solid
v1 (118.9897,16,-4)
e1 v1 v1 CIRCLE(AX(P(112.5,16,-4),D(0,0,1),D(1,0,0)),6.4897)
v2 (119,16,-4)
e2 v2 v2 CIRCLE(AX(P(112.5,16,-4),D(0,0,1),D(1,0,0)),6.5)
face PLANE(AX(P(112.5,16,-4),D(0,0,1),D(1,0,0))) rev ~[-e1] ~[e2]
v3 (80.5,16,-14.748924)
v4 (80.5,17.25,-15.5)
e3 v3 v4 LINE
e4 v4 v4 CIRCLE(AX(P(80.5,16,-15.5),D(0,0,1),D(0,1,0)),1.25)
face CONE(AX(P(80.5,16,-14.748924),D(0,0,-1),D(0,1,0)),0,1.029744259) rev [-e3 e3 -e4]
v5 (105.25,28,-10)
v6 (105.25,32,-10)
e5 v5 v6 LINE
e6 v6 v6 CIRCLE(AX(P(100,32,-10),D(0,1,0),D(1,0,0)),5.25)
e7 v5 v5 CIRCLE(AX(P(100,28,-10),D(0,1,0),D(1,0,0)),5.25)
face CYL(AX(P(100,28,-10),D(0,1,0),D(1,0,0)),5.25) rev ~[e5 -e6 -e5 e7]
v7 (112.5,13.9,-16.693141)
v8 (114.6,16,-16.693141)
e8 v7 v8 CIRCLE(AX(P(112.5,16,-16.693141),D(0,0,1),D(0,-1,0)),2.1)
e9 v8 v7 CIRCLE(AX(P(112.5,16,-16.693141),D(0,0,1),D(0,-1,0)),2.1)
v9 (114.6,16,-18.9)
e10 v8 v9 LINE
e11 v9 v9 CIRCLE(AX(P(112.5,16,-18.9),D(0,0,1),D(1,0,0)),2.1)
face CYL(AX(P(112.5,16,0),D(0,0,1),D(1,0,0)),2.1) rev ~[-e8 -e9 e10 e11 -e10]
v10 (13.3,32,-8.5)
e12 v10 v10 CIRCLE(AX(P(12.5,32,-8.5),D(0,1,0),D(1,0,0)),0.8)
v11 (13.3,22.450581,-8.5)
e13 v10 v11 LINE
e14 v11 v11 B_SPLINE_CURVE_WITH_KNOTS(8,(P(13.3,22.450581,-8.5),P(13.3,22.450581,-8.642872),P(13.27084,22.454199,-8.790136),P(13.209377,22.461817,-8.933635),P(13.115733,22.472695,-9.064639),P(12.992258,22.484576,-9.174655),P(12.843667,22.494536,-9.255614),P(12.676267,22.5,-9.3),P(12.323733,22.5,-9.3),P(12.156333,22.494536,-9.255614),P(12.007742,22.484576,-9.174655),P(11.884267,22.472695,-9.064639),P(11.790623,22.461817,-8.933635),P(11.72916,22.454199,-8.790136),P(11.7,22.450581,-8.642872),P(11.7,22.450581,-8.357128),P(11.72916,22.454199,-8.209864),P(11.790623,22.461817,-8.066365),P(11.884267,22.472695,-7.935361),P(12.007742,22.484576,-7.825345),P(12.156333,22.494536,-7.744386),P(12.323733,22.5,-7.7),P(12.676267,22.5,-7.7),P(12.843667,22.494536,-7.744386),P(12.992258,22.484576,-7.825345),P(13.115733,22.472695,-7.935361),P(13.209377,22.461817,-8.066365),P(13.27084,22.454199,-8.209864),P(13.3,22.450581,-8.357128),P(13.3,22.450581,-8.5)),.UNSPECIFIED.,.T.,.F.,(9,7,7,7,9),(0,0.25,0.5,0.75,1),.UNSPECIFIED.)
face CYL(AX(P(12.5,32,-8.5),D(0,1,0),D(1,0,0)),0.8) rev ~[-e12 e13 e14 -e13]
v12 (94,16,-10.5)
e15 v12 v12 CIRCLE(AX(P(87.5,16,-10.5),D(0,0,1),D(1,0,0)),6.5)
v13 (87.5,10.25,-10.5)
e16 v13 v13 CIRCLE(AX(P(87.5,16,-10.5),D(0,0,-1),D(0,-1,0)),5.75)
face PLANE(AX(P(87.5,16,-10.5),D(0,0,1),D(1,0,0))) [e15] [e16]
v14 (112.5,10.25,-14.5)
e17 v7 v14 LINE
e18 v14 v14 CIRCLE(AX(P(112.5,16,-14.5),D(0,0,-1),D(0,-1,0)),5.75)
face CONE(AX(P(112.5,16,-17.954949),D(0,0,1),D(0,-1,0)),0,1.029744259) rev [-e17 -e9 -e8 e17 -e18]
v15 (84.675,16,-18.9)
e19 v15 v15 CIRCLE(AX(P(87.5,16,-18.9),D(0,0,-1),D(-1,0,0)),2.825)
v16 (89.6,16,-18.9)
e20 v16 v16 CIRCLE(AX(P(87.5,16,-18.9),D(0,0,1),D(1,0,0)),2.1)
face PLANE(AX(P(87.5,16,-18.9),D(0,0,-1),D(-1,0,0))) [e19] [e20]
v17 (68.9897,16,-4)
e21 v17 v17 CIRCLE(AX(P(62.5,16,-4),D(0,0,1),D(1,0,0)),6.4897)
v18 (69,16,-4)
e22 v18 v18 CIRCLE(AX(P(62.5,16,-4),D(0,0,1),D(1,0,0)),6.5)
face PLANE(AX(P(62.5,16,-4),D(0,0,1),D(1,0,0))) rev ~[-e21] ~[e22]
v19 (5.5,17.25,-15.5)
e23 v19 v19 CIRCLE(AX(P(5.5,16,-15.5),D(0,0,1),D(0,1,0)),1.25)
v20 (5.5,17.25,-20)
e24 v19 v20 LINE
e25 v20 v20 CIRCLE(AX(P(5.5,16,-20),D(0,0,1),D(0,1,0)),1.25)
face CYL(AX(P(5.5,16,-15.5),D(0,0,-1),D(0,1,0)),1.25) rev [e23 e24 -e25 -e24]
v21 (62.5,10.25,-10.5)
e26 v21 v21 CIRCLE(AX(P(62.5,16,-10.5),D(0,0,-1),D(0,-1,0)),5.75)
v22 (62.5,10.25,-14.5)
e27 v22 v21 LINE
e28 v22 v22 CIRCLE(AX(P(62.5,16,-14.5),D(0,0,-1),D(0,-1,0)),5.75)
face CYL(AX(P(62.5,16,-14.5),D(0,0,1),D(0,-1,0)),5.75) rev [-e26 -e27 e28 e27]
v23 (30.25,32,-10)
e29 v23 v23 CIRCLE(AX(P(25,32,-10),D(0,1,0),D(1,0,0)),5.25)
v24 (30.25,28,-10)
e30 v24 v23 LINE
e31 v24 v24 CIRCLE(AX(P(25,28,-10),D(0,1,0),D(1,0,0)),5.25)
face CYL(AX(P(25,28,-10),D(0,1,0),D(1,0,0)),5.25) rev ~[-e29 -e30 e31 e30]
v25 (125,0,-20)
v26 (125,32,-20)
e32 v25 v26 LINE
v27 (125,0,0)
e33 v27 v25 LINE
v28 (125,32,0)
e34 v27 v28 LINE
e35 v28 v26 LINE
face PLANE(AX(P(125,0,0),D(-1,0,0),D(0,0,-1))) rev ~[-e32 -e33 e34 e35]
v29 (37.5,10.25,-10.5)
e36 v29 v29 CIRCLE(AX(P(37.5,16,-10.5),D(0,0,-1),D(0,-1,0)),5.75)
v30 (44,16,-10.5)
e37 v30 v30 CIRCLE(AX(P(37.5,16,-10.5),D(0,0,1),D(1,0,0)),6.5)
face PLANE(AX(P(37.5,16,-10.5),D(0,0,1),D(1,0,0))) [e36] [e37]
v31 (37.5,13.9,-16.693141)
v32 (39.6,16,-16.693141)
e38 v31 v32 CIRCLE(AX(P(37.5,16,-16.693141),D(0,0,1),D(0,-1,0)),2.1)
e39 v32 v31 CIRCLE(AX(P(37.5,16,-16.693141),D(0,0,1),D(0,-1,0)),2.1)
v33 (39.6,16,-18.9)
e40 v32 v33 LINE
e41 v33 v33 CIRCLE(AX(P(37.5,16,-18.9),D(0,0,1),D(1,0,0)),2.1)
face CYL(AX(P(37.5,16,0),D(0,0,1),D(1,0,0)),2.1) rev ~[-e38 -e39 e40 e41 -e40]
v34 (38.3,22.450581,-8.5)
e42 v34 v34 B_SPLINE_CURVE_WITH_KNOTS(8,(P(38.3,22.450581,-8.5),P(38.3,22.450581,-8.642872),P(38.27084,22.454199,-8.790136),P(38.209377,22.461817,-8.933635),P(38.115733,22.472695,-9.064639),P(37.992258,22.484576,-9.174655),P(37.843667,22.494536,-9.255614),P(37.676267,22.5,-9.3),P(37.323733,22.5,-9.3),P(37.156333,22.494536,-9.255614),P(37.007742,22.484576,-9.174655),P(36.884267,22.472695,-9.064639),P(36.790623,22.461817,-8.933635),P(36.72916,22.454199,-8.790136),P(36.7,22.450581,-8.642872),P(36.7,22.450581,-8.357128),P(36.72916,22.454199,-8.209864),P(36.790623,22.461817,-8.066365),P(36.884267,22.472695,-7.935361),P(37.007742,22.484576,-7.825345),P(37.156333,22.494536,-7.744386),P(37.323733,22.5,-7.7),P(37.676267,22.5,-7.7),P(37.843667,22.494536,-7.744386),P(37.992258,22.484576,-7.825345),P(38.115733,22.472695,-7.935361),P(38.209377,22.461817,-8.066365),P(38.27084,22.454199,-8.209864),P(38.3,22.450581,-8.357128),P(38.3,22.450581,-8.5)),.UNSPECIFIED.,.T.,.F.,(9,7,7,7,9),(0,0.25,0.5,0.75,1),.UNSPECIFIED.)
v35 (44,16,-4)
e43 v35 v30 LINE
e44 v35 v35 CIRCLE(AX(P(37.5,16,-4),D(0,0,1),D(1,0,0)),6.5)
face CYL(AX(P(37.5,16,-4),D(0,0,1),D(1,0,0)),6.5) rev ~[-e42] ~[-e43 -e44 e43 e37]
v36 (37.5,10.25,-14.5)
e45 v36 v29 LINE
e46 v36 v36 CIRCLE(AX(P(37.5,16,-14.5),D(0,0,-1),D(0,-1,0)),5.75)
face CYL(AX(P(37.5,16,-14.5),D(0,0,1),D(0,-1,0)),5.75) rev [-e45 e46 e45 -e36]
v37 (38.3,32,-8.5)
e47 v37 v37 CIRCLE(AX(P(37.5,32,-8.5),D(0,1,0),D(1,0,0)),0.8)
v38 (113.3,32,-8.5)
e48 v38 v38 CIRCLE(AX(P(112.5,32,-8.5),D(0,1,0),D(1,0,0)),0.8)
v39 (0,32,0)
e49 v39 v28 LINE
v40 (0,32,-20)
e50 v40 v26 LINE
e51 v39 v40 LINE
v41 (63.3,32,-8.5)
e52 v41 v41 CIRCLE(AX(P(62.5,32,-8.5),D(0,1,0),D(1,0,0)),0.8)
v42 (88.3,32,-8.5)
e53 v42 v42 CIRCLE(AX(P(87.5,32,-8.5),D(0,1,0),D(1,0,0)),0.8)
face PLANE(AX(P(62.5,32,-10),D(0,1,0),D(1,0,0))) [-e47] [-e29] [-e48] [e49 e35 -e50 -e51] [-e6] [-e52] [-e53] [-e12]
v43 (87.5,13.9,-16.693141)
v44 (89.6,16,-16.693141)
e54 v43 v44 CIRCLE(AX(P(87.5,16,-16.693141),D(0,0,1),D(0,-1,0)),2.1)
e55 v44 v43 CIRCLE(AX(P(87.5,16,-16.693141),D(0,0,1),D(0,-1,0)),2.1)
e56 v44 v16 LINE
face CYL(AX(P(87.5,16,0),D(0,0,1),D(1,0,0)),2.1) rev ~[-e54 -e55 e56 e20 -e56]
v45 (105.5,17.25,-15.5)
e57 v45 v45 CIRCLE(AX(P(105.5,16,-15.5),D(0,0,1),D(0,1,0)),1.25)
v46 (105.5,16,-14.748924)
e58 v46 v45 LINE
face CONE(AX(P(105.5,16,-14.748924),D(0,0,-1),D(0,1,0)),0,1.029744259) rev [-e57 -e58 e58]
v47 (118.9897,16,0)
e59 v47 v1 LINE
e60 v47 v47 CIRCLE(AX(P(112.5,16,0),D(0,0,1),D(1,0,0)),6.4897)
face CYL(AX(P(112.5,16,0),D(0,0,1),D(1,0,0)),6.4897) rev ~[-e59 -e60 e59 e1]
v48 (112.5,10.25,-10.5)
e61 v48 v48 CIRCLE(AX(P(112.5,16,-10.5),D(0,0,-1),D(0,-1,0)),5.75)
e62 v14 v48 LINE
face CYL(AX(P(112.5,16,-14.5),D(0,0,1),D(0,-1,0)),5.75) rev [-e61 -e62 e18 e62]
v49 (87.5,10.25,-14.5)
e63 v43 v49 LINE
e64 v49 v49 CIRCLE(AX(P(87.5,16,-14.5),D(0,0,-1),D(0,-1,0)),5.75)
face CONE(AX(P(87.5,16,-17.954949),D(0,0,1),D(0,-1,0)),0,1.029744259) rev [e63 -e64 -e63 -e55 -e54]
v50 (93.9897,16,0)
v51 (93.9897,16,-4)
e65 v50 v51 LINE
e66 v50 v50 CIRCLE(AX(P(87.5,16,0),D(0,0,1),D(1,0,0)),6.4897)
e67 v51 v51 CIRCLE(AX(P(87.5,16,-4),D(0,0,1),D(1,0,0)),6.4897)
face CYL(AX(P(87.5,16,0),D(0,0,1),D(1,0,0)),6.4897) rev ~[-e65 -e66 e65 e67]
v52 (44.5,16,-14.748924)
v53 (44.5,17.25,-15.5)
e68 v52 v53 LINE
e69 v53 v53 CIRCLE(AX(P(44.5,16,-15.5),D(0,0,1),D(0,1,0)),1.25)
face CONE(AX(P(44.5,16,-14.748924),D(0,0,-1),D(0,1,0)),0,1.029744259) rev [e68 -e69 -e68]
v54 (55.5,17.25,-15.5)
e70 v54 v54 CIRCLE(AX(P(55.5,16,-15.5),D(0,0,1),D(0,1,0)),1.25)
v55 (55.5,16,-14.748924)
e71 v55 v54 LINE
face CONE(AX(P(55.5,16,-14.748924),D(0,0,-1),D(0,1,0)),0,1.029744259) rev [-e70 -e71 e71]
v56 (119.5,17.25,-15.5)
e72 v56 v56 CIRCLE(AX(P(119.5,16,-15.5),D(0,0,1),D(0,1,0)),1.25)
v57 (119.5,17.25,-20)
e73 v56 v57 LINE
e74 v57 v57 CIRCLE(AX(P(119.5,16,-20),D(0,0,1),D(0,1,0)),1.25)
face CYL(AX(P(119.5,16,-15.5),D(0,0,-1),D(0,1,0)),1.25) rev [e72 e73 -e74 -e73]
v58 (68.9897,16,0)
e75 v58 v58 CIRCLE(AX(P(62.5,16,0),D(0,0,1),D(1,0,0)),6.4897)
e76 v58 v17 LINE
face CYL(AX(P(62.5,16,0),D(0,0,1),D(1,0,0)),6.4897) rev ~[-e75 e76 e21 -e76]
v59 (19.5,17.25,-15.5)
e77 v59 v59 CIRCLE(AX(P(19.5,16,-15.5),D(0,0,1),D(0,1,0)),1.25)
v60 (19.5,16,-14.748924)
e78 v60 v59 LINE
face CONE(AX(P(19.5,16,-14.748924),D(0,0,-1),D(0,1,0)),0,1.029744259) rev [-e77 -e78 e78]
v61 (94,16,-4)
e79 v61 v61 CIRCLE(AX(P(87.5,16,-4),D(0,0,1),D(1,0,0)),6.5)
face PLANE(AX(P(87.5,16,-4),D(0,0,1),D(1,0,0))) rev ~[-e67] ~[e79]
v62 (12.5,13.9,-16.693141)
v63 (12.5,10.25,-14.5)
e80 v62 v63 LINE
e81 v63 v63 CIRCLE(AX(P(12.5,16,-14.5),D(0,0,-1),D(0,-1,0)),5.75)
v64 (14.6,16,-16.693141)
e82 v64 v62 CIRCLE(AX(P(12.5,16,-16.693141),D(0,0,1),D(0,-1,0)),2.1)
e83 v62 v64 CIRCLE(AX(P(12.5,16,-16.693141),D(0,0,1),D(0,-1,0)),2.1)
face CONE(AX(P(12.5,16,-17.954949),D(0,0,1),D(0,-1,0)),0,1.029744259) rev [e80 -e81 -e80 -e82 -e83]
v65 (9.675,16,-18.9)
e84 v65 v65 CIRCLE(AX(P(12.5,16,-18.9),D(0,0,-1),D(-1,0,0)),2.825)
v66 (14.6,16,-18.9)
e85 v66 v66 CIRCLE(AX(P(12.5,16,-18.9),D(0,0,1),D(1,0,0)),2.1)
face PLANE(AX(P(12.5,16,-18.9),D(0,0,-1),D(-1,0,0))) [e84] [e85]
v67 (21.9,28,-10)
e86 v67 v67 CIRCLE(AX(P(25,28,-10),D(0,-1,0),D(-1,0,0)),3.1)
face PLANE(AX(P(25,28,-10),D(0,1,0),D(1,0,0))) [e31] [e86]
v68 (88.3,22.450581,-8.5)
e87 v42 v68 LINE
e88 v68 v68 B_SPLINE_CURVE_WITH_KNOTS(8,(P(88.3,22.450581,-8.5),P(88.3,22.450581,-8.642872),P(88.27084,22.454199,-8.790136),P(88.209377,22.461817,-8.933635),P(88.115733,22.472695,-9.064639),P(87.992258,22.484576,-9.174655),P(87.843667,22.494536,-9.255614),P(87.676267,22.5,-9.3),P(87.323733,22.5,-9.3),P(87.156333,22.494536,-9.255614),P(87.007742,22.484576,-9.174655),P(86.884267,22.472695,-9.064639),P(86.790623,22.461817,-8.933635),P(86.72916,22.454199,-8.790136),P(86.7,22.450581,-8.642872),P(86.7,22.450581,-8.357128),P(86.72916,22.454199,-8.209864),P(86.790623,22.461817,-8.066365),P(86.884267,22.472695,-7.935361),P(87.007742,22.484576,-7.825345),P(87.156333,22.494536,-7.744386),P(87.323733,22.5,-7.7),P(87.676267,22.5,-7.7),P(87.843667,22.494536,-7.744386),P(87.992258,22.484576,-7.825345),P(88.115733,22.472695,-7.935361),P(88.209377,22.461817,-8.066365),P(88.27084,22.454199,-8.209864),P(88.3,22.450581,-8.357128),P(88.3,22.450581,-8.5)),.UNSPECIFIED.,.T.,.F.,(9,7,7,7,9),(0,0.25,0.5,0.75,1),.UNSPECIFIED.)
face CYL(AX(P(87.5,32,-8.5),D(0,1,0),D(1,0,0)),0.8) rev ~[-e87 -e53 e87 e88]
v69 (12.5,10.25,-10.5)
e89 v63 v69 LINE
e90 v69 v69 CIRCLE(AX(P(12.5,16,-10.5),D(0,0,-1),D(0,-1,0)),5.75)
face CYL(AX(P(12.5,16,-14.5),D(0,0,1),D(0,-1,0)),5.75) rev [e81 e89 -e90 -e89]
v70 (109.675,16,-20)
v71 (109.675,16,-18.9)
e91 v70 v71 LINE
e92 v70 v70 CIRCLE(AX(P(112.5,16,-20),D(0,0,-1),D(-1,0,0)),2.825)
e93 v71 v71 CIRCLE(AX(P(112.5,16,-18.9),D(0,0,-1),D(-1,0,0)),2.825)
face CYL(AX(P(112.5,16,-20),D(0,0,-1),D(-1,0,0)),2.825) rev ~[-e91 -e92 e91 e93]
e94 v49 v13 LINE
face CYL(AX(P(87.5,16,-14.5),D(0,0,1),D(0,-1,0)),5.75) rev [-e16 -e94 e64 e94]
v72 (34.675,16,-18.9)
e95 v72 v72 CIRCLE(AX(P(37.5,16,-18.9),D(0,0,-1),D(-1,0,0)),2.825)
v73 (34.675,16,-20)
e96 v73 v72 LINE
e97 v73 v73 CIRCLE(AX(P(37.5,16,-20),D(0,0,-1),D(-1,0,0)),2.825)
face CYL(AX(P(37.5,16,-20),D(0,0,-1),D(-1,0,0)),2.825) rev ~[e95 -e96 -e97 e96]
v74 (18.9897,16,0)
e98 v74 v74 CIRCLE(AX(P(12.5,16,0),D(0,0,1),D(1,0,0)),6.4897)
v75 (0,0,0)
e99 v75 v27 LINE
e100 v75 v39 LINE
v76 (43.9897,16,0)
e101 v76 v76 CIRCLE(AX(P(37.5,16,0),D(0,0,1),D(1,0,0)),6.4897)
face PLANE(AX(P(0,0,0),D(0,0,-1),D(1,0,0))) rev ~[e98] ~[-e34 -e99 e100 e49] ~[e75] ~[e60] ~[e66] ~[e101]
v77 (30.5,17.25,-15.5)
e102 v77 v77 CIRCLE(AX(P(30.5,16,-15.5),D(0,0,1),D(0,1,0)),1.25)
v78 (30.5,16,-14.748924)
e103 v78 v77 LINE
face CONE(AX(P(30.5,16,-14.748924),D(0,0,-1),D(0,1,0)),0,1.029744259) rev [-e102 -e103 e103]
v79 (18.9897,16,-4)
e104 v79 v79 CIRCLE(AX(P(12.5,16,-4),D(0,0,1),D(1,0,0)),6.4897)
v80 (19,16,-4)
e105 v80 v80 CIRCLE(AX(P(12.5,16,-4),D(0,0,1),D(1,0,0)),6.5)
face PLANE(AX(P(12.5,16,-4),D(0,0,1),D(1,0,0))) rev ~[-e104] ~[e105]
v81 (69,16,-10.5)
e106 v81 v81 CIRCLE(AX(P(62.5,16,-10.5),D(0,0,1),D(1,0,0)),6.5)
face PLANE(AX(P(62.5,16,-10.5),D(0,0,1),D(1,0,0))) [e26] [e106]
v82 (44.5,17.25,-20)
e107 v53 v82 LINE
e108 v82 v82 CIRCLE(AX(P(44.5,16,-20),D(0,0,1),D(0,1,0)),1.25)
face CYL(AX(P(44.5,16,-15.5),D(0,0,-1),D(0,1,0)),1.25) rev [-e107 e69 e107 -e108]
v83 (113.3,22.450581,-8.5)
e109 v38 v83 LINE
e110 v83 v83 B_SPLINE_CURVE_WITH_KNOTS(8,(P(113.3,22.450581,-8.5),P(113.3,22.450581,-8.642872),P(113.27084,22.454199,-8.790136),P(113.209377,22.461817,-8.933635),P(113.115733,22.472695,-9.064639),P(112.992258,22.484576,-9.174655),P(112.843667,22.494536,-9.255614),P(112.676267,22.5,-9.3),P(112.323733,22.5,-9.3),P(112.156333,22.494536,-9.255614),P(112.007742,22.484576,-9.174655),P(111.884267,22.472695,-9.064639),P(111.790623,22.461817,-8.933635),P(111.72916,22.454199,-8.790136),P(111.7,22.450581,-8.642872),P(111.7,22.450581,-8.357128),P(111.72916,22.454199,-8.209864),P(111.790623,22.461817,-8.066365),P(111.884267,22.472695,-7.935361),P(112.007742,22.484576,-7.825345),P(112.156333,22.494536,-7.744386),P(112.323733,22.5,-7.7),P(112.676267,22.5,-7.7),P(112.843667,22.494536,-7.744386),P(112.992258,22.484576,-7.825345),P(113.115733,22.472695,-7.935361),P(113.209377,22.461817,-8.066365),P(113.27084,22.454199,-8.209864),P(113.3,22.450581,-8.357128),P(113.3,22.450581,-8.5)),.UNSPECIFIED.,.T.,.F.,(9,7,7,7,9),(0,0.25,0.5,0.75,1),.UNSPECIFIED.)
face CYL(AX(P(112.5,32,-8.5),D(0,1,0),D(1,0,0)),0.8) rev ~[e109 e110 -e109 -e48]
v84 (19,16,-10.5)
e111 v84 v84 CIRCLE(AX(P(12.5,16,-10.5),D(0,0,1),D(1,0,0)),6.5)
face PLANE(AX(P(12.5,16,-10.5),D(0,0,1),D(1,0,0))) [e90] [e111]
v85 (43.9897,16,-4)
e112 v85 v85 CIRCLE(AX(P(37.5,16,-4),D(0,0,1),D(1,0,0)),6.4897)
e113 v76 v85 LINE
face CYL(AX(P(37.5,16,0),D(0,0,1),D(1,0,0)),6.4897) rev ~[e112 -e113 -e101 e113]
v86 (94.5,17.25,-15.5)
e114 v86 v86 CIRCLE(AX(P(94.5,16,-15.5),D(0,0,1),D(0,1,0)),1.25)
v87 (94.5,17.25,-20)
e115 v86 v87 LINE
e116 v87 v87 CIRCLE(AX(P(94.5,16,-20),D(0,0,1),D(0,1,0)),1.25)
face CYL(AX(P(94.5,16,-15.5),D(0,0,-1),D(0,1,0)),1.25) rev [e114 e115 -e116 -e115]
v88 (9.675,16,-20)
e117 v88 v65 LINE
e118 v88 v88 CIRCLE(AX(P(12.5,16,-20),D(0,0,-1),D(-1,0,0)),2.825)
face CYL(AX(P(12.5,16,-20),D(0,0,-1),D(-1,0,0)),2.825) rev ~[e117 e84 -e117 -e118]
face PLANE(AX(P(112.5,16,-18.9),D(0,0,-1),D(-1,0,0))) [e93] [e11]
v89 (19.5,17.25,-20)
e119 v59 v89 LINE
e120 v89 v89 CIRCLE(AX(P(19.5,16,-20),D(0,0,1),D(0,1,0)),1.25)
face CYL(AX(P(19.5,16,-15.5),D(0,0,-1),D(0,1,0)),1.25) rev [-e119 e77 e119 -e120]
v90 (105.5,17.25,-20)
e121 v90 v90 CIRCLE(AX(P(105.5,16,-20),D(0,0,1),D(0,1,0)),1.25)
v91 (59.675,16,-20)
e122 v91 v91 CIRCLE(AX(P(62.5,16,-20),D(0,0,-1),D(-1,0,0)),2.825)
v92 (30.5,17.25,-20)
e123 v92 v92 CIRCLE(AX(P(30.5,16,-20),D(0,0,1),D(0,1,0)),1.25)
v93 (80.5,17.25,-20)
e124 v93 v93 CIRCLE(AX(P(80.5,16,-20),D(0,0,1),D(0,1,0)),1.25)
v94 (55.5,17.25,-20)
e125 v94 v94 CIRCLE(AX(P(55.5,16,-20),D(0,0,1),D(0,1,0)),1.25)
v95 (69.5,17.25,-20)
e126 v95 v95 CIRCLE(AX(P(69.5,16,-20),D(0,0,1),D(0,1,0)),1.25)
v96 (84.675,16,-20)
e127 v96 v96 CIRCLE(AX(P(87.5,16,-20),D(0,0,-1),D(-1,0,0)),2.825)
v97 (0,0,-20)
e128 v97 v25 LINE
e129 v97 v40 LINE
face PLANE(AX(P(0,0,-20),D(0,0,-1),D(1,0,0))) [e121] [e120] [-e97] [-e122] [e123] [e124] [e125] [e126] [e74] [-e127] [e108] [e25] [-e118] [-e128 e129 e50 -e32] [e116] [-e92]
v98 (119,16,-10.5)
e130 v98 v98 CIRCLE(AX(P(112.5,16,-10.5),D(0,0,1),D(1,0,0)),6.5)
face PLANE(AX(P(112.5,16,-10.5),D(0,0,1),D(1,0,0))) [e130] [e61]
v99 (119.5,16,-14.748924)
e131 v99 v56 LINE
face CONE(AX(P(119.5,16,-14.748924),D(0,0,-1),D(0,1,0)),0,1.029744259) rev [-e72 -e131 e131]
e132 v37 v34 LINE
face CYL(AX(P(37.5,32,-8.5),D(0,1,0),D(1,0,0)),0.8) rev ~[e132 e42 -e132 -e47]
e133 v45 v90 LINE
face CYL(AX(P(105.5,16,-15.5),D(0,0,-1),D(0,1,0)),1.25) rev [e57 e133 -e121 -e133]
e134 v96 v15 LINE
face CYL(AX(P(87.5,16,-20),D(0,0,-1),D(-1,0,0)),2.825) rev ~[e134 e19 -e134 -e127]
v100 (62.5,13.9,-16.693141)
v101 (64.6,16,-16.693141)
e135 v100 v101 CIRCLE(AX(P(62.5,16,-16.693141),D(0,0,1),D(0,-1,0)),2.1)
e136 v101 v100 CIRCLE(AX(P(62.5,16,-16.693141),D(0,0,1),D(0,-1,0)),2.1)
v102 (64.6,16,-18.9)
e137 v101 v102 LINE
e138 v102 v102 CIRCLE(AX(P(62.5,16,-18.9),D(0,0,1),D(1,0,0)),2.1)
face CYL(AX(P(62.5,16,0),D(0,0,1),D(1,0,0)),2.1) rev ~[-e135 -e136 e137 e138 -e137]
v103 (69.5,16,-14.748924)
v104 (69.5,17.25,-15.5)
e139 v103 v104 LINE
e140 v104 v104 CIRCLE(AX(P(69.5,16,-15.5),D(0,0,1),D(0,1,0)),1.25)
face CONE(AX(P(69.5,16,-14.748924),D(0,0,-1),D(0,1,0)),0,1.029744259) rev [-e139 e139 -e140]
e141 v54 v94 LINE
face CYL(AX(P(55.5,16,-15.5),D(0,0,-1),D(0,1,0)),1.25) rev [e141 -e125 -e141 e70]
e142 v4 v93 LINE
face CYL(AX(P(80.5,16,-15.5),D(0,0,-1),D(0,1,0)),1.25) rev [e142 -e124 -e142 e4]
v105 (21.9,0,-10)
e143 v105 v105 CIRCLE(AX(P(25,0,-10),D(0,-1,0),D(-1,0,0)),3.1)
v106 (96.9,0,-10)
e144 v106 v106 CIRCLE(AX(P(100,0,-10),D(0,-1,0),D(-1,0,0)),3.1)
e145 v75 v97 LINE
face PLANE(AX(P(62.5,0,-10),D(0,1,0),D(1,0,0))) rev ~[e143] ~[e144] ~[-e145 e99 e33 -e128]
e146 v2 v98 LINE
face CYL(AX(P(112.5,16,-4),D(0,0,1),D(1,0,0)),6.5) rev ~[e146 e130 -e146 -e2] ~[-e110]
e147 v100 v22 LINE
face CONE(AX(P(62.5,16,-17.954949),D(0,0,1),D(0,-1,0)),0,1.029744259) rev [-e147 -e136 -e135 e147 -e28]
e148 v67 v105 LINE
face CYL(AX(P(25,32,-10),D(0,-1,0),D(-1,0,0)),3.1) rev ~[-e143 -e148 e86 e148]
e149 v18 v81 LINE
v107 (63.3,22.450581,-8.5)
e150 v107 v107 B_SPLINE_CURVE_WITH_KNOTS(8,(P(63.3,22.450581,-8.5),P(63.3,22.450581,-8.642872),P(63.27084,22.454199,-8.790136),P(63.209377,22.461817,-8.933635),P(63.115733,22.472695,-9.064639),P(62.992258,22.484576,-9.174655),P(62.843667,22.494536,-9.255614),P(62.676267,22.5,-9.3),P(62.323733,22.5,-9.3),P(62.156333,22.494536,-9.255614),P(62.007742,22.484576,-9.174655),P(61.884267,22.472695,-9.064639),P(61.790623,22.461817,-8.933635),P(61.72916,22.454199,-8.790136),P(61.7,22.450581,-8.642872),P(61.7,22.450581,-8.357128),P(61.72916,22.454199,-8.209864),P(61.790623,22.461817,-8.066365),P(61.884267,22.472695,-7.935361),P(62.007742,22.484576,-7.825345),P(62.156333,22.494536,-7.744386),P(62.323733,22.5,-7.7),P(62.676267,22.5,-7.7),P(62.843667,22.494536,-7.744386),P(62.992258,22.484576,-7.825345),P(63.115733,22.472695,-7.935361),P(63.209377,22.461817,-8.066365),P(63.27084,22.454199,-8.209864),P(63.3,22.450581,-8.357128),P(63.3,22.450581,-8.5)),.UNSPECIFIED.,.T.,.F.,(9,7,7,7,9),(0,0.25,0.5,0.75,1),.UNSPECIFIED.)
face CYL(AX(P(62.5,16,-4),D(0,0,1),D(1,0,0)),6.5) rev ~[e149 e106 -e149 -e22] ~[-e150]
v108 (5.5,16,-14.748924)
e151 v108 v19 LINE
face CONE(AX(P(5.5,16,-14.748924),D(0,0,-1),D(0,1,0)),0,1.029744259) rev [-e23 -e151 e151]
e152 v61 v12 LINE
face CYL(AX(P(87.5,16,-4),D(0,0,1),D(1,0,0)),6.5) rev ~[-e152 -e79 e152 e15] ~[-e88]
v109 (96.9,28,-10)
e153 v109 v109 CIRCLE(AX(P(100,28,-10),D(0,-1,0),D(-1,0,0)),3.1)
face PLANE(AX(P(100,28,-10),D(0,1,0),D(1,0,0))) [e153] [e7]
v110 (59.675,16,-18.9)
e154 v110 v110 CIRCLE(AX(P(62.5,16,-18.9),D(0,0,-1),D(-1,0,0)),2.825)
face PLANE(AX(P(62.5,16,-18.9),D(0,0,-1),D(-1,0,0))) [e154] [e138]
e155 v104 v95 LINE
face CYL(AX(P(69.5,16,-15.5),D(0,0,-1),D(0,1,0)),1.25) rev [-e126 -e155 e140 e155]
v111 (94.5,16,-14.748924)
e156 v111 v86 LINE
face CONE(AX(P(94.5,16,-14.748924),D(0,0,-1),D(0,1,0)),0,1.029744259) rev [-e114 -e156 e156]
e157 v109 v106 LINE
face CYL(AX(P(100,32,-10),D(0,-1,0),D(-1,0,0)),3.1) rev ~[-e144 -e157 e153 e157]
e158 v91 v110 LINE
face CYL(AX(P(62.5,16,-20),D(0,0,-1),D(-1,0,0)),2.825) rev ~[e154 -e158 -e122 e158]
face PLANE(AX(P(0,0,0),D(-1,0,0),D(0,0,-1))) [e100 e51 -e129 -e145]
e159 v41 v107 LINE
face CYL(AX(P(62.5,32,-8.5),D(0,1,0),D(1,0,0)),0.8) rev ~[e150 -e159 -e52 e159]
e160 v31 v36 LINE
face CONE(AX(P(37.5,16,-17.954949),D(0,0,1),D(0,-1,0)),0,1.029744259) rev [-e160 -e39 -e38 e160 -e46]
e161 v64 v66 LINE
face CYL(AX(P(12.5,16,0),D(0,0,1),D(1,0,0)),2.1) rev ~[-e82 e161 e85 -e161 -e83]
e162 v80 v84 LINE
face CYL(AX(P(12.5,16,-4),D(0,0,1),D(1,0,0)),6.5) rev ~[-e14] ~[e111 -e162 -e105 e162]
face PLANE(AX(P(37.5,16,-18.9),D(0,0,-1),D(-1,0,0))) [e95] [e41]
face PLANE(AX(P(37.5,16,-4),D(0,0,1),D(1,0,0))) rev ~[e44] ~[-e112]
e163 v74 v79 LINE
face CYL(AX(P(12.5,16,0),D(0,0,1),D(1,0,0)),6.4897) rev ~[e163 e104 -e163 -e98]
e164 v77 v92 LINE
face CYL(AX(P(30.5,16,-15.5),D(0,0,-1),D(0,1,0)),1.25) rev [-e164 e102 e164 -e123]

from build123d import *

# Parameters (mm, degrees)
SKETCH1_W                                           = 125
SKETCH1_H                                           = 20
BOSS_EXTRUDE1_DEPTH                                 = 32
SKETCH2_R                                           = 6.4897
CUT_EXTRUDE1_DEPTH                                  = 4
SKETCH3_R                                           = 6.5
CUT_EXTRUDE2_DEPTH                                  = 6.5
CUT_EXTRUDE4_REACH                                  = 132.572
SKETCH8_R                                           = 2.1
SKETCH9_R                                           = 2.825
CUT_EXTRUDE5_DEPTH                                  = 1.1
M3X0_5_TAPPED_HOLE1_AT_2_COUNT                      = 2
M3X0_5_TAPPED_HOLE1_AT_2_PITCH                      = 14
LPATTERN1_COUNT                                     = 5
LPATTERN1_PITCH                                     = 25
M2_TAPPED_HOLE1_REACH                               = 132.572
M2_TAPPED_HOLE1_BORE_R                              = 0.8
CBORE_FOR_M6_HEX_SOCKET_HEAD_CAP_SCREW1_D           = 6.2
CBORE_FOR_M6_HEX_SOCKET_HEAD_CAP_SCREW1_CBORE_D     = 10.5
CBORE_FOR_M6_HEX_SOCKET_HEAD_CAP_SCREW1_CBORE_DEPTH = 4


with BuildPart() as part:
    # Sketch1 → Boss-Extrude1 (new body)
    with BuildSketch(Plane(origin=(0, 0, 0), x_dir=(1, 0, 0), z_dir=(0, 1, 0))):
        with Locations((62.5, 10)):
            Rectangle(SKETCH1_W, SKETCH1_H)
    extrude(amount=BOSS_EXTRUDE1_DEPTH)

    # Sketch2 → Cut-Extrude1 (cut)
    with BuildSketch(Plane.XY):
        with Locations((12.5, 16)):
            Circle(SKETCH2_R)
    cut_extrude1 = extrude(amount=-CUT_EXTRUDE1_DEPTH, mode=Mode.SUBTRACT)

    # Sketch3 → Cut-Extrude2 (cut)
    with BuildSketch(Plane.XY.offset(-4)):
        with Locations((12.5, 16)):
            Circle(SKETCH3_R)
    cut_extrude2 = extrude(amount=-CUT_EXTRUDE2_DEPTH, mode=Mode.SUBTRACT)

    # Sketch6 → M12x0.5 Tapped Hole1 (revolve, cut)
    with BuildSketch(Plane(origin=(12.5, 16, -10.5), x_dir=(0, -1, 0), z_dir=(1, 0, 0))):
        Polygon((0, 0), (0, 7.454948559), (5.75, 4), (5.75, 0), align=None)
    m12x0_5_tapped_hole1 = revolve(axis=Axis((12.5, 16, -4.15), (0, 0, -1)), mode=Mode.SUBTRACT)

    # Sketch8 → Cut-Extrude4 (cut, up to next)
    with BuildSketch(Plane.XY, mode=Mode.PRIVATE) as cut_extrude4_sk1:
        with Locations((12.5, 16)):
            Circle(SKETCH8_R)
    cut_extrude4_tool1 = extrude(cut_extrude4_sk1.sketch, amount=-CUT_EXTRUDE4_REACH, mode=Mode.PRIVATE) & part.part
    cut_extrude4 = cut_extrude4_tool1.solids().sort_by_distance((12.5, 16, 0))[0]
    add(cut_extrude4, mode=Mode.SUBTRACT)

    # Sketch9 → Cut-Extrude5 (cut)
    with BuildSketch(Plane(origin=(0, 0, -20), x_dir=(-1, 0, 0), z_dir=(0, 0, -1))):
        with Locations((-12.5, 16)):
            Circle(SKETCH9_R)
    cut_extrude5 = extrude(amount=-CUT_EXTRUDE5_DEPTH, mode=Mode.SUBTRACT)

    # Sketch11 → M3x0.5 Tapped Hole1 (revolve, cut)
    with BuildSketch(Plane(origin=(19.5, 16, -20), x_dir=(0, 1, 0), z_dir=(1, 0, 0))):
        Polygon((0, 0), (0, 5.251075774), (1.25, 4.5), (1.25, 0), align=None)
    m3x0_5_tapped_hole1 = revolve(axis=Axis((19.5, 16, -26.35), (0, 0, 1)), mode=Mode.SUBTRACT)

    # M3x0.5 Tapped Hole1 at 2: M3x0.5 Tapped Hole1 ×2
    with Locations(*[(-i * M3X0_5_TAPPED_HOLE1_AT_2_PITCH, 0, 0) for i in range(1, M3X0_5_TAPPED_HOLE1_AT_2_COUNT)]):
        add(m3x0_5_tapped_hole1, mode=Mode.SUBTRACT)

    # LPattern1: Cut-Extrude1, Cut-Extrude2, M12x0.5 Tapped Hole1, Cut-Extrude4, Cut-Extrude5, M3x0.5 Tapped Hole1 ×5
    with Locations(*[(i * LPATTERN1_PITCH, 0, 0) for i in range(1, LPATTERN1_COUNT)]):
        add(cut_extrude1, mode=Mode.SUBTRACT)
        add(cut_extrude2, mode=Mode.SUBTRACT)
        add(m12x0_5_tapped_hole1, mode=Mode.SUBTRACT)
        add(cut_extrude4, mode=Mode.SUBTRACT)
        add(cut_extrude5, mode=Mode.SUBTRACT)
        add(m3x0_5_tapped_hole1, mode=Mode.SUBTRACT)

    # LPattern1 copy 1 sketch → LPattern1 copy 1 (revolve, cut)
    with BuildSketch(Plane(origin=(30.5, 16, -20), x_dir=(0, 1, 0), z_dir=(1, 0, 0))):
        Polygon((0, 0), (0, 5.251075774), (1.25, 4.5), (1.25, 0), align=None)
    revolve(axis=Axis((30.5, 16, -26.35), (0, 0, 1)), mode=Mode.SUBTRACT)

    # LPattern1 copy 2 sketch → LPattern1 copy 2 (revolve, cut)
    with BuildSketch(Plane(origin=(55.5, 16, -20), x_dir=(0, 1, 0), z_dir=(1, 0, 0))):
        Polygon((0, 0), (0, 5.251075774), (1.25, 4.5), (1.25, 0), align=None)
    revolve(axis=Axis((55.5, 16, -26.35), (0, 0, 1)), mode=Mode.SUBTRACT)

    # LPattern1 copy 3 sketch → LPattern1 copy 3 (revolve, cut)
    with BuildSketch(Plane(origin=(80.5, 16, -20), x_dir=(0, 1, 0), z_dir=(1, 0, 0))):
        Polygon((0, 0), (0, 5.251075774), (1.25, 4.5), (1.25, 0), align=None)
    revolve(axis=Axis((80.5, 16, -26.35), (0, 0, 1)), mode=Mode.SUBTRACT)

    # LPattern1 copy 4 sketch → LPattern1 copy 4 (revolve, cut)
    with BuildSketch(Plane(origin=(105.5, 16, -20), x_dir=(0, 1, 0), z_dir=(1, 0, 0))):
        Polygon((0, 0), (0, 5.251075774), (1.25, 4.5), (1.25, 0), align=None)
    revolve(axis=Axis((105.5, 16, -26.35), (0, 0, 1)), mode=Mode.SUBTRACT)

    # M2 Tapped Hole1 bore → M2 Tapped Hole1 (cut, up to next)
    with BuildSketch(Plane(origin=(0, 32, 0), x_dir=(1, 0, 0), z_dir=(0, 1, 0)), mode=Mode.PRIVATE) as m2_tapped_hole1_sk1:
        with Locations((12.5, 8.5)):
            Circle(M2_TAPPED_HOLE1_BORE_R)
    m2_tapped_hole1_tool1 = extrude(m2_tapped_hole1_sk1.sketch, amount=-M2_TAPPED_HOLE1_REACH, mode=Mode.PRIVATE) & part.part
    # M2 Tapped Hole1 bore → M2 Tapped Hole1 (cut, up to next)
    with BuildSketch(Plane(origin=(0, 32, 0), x_dir=(1, 0, 0), z_dir=(0, 1, 0)), mode=Mode.PRIVATE) as m2_tapped_hole1_sk2:
        with Locations((37.5, 8.5)):
            Circle(M2_TAPPED_HOLE1_BORE_R)
    m2_tapped_hole1_tool2 = extrude(m2_tapped_hole1_sk2.sketch, amount=-M2_TAPPED_HOLE1_REACH, mode=Mode.PRIVATE) & part.part
    # M2 Tapped Hole1 bore → M2 Tapped Hole1 (cut, up to next)
    with BuildSketch(Plane(origin=(0, 32, 0), x_dir=(1, 0, 0), z_dir=(0, 1, 0)), mode=Mode.PRIVATE) as m2_tapped_hole1_sk3:
        with Locations((62.5, 8.5)):
            Circle(M2_TAPPED_HOLE1_BORE_R)
    m2_tapped_hole1_tool3 = extrude(m2_tapped_hole1_sk3.sketch, amount=-M2_TAPPED_HOLE1_REACH, mode=Mode.PRIVATE) & part.part
    # M2 Tapped Hole1 bore → M2 Tapped Hole1 (cut, up to next)
    with BuildSketch(Plane(origin=(0, 32, 0), x_dir=(1, 0, 0), z_dir=(0, 1, 0)), mode=Mode.PRIVATE) as m2_tapped_hole1_sk4:
        with Locations((87.5, 8.5)):
            Circle(M2_TAPPED_HOLE1_BORE_R)
    m2_tapped_hole1_tool4 = extrude(m2_tapped_hole1_sk4.sketch, amount=-M2_TAPPED_HOLE1_REACH, mode=Mode.PRIVATE) & part.part
    # M2 Tapped Hole1 bore → M2 Tapped Hole1 (cut, up to next)
    with BuildSketch(Plane(origin=(0, 32, 0), x_dir=(1, 0, 0), z_dir=(0, 1, 0)), mode=Mode.PRIVATE) as m2_tapped_hole1_sk5:
        with Locations((112.5, 8.5)):
            Circle(M2_TAPPED_HOLE1_BORE_R)
    m2_tapped_hole1_tool5 = extrude(m2_tapped_hole1_sk5.sketch, amount=-M2_TAPPED_HOLE1_REACH, mode=Mode.PRIVATE) & part.part
    add(m2_tapped_hole1_tool1.solids().sort_by_distance((12.5, 32, -8.5))[0], mode=Mode.SUBTRACT)
    add(m2_tapped_hole1_tool2.solids().sort_by_distance((37.5, 32, -8.5))[0], mode=Mode.SUBTRACT)
    add(m2_tapped_hole1_tool3.solids().sort_by_distance((62.5, 32, -8.5))[0], mode=Mode.SUBTRACT)
    add(m2_tapped_hole1_tool4.solids().sort_by_distance((87.5, 32, -8.5))[0], mode=Mode.SUBTRACT)
    add(m2_tapped_hole1_tool5.solids().sort_by_distance((112.5, 32, -8.5))[0], mode=Mode.SUBTRACT)

    # CBORE for M6 Hex Socket Head Cap Screw1 (through all)
    with Locations(Plane(origin=(0, 32, 0), x_dir=(1, 0, 0), z_dir=(0, 1, 0))):
        with Locations((25, 10), (100, 10)):
            CounterBoreHole(CBORE_FOR_M6_HEX_SOCKET_HEAD_CAP_SCREW1_D / 2, CBORE_FOR_M6_HEX_SOCKET_HEAD_CAP_SCREW1_CBORE_D / 2, CBORE_FOR_M6_HEX_SOCKET_HEAD_CAP_SCREW1_CBORE_DEPTH)


solid = part.part
